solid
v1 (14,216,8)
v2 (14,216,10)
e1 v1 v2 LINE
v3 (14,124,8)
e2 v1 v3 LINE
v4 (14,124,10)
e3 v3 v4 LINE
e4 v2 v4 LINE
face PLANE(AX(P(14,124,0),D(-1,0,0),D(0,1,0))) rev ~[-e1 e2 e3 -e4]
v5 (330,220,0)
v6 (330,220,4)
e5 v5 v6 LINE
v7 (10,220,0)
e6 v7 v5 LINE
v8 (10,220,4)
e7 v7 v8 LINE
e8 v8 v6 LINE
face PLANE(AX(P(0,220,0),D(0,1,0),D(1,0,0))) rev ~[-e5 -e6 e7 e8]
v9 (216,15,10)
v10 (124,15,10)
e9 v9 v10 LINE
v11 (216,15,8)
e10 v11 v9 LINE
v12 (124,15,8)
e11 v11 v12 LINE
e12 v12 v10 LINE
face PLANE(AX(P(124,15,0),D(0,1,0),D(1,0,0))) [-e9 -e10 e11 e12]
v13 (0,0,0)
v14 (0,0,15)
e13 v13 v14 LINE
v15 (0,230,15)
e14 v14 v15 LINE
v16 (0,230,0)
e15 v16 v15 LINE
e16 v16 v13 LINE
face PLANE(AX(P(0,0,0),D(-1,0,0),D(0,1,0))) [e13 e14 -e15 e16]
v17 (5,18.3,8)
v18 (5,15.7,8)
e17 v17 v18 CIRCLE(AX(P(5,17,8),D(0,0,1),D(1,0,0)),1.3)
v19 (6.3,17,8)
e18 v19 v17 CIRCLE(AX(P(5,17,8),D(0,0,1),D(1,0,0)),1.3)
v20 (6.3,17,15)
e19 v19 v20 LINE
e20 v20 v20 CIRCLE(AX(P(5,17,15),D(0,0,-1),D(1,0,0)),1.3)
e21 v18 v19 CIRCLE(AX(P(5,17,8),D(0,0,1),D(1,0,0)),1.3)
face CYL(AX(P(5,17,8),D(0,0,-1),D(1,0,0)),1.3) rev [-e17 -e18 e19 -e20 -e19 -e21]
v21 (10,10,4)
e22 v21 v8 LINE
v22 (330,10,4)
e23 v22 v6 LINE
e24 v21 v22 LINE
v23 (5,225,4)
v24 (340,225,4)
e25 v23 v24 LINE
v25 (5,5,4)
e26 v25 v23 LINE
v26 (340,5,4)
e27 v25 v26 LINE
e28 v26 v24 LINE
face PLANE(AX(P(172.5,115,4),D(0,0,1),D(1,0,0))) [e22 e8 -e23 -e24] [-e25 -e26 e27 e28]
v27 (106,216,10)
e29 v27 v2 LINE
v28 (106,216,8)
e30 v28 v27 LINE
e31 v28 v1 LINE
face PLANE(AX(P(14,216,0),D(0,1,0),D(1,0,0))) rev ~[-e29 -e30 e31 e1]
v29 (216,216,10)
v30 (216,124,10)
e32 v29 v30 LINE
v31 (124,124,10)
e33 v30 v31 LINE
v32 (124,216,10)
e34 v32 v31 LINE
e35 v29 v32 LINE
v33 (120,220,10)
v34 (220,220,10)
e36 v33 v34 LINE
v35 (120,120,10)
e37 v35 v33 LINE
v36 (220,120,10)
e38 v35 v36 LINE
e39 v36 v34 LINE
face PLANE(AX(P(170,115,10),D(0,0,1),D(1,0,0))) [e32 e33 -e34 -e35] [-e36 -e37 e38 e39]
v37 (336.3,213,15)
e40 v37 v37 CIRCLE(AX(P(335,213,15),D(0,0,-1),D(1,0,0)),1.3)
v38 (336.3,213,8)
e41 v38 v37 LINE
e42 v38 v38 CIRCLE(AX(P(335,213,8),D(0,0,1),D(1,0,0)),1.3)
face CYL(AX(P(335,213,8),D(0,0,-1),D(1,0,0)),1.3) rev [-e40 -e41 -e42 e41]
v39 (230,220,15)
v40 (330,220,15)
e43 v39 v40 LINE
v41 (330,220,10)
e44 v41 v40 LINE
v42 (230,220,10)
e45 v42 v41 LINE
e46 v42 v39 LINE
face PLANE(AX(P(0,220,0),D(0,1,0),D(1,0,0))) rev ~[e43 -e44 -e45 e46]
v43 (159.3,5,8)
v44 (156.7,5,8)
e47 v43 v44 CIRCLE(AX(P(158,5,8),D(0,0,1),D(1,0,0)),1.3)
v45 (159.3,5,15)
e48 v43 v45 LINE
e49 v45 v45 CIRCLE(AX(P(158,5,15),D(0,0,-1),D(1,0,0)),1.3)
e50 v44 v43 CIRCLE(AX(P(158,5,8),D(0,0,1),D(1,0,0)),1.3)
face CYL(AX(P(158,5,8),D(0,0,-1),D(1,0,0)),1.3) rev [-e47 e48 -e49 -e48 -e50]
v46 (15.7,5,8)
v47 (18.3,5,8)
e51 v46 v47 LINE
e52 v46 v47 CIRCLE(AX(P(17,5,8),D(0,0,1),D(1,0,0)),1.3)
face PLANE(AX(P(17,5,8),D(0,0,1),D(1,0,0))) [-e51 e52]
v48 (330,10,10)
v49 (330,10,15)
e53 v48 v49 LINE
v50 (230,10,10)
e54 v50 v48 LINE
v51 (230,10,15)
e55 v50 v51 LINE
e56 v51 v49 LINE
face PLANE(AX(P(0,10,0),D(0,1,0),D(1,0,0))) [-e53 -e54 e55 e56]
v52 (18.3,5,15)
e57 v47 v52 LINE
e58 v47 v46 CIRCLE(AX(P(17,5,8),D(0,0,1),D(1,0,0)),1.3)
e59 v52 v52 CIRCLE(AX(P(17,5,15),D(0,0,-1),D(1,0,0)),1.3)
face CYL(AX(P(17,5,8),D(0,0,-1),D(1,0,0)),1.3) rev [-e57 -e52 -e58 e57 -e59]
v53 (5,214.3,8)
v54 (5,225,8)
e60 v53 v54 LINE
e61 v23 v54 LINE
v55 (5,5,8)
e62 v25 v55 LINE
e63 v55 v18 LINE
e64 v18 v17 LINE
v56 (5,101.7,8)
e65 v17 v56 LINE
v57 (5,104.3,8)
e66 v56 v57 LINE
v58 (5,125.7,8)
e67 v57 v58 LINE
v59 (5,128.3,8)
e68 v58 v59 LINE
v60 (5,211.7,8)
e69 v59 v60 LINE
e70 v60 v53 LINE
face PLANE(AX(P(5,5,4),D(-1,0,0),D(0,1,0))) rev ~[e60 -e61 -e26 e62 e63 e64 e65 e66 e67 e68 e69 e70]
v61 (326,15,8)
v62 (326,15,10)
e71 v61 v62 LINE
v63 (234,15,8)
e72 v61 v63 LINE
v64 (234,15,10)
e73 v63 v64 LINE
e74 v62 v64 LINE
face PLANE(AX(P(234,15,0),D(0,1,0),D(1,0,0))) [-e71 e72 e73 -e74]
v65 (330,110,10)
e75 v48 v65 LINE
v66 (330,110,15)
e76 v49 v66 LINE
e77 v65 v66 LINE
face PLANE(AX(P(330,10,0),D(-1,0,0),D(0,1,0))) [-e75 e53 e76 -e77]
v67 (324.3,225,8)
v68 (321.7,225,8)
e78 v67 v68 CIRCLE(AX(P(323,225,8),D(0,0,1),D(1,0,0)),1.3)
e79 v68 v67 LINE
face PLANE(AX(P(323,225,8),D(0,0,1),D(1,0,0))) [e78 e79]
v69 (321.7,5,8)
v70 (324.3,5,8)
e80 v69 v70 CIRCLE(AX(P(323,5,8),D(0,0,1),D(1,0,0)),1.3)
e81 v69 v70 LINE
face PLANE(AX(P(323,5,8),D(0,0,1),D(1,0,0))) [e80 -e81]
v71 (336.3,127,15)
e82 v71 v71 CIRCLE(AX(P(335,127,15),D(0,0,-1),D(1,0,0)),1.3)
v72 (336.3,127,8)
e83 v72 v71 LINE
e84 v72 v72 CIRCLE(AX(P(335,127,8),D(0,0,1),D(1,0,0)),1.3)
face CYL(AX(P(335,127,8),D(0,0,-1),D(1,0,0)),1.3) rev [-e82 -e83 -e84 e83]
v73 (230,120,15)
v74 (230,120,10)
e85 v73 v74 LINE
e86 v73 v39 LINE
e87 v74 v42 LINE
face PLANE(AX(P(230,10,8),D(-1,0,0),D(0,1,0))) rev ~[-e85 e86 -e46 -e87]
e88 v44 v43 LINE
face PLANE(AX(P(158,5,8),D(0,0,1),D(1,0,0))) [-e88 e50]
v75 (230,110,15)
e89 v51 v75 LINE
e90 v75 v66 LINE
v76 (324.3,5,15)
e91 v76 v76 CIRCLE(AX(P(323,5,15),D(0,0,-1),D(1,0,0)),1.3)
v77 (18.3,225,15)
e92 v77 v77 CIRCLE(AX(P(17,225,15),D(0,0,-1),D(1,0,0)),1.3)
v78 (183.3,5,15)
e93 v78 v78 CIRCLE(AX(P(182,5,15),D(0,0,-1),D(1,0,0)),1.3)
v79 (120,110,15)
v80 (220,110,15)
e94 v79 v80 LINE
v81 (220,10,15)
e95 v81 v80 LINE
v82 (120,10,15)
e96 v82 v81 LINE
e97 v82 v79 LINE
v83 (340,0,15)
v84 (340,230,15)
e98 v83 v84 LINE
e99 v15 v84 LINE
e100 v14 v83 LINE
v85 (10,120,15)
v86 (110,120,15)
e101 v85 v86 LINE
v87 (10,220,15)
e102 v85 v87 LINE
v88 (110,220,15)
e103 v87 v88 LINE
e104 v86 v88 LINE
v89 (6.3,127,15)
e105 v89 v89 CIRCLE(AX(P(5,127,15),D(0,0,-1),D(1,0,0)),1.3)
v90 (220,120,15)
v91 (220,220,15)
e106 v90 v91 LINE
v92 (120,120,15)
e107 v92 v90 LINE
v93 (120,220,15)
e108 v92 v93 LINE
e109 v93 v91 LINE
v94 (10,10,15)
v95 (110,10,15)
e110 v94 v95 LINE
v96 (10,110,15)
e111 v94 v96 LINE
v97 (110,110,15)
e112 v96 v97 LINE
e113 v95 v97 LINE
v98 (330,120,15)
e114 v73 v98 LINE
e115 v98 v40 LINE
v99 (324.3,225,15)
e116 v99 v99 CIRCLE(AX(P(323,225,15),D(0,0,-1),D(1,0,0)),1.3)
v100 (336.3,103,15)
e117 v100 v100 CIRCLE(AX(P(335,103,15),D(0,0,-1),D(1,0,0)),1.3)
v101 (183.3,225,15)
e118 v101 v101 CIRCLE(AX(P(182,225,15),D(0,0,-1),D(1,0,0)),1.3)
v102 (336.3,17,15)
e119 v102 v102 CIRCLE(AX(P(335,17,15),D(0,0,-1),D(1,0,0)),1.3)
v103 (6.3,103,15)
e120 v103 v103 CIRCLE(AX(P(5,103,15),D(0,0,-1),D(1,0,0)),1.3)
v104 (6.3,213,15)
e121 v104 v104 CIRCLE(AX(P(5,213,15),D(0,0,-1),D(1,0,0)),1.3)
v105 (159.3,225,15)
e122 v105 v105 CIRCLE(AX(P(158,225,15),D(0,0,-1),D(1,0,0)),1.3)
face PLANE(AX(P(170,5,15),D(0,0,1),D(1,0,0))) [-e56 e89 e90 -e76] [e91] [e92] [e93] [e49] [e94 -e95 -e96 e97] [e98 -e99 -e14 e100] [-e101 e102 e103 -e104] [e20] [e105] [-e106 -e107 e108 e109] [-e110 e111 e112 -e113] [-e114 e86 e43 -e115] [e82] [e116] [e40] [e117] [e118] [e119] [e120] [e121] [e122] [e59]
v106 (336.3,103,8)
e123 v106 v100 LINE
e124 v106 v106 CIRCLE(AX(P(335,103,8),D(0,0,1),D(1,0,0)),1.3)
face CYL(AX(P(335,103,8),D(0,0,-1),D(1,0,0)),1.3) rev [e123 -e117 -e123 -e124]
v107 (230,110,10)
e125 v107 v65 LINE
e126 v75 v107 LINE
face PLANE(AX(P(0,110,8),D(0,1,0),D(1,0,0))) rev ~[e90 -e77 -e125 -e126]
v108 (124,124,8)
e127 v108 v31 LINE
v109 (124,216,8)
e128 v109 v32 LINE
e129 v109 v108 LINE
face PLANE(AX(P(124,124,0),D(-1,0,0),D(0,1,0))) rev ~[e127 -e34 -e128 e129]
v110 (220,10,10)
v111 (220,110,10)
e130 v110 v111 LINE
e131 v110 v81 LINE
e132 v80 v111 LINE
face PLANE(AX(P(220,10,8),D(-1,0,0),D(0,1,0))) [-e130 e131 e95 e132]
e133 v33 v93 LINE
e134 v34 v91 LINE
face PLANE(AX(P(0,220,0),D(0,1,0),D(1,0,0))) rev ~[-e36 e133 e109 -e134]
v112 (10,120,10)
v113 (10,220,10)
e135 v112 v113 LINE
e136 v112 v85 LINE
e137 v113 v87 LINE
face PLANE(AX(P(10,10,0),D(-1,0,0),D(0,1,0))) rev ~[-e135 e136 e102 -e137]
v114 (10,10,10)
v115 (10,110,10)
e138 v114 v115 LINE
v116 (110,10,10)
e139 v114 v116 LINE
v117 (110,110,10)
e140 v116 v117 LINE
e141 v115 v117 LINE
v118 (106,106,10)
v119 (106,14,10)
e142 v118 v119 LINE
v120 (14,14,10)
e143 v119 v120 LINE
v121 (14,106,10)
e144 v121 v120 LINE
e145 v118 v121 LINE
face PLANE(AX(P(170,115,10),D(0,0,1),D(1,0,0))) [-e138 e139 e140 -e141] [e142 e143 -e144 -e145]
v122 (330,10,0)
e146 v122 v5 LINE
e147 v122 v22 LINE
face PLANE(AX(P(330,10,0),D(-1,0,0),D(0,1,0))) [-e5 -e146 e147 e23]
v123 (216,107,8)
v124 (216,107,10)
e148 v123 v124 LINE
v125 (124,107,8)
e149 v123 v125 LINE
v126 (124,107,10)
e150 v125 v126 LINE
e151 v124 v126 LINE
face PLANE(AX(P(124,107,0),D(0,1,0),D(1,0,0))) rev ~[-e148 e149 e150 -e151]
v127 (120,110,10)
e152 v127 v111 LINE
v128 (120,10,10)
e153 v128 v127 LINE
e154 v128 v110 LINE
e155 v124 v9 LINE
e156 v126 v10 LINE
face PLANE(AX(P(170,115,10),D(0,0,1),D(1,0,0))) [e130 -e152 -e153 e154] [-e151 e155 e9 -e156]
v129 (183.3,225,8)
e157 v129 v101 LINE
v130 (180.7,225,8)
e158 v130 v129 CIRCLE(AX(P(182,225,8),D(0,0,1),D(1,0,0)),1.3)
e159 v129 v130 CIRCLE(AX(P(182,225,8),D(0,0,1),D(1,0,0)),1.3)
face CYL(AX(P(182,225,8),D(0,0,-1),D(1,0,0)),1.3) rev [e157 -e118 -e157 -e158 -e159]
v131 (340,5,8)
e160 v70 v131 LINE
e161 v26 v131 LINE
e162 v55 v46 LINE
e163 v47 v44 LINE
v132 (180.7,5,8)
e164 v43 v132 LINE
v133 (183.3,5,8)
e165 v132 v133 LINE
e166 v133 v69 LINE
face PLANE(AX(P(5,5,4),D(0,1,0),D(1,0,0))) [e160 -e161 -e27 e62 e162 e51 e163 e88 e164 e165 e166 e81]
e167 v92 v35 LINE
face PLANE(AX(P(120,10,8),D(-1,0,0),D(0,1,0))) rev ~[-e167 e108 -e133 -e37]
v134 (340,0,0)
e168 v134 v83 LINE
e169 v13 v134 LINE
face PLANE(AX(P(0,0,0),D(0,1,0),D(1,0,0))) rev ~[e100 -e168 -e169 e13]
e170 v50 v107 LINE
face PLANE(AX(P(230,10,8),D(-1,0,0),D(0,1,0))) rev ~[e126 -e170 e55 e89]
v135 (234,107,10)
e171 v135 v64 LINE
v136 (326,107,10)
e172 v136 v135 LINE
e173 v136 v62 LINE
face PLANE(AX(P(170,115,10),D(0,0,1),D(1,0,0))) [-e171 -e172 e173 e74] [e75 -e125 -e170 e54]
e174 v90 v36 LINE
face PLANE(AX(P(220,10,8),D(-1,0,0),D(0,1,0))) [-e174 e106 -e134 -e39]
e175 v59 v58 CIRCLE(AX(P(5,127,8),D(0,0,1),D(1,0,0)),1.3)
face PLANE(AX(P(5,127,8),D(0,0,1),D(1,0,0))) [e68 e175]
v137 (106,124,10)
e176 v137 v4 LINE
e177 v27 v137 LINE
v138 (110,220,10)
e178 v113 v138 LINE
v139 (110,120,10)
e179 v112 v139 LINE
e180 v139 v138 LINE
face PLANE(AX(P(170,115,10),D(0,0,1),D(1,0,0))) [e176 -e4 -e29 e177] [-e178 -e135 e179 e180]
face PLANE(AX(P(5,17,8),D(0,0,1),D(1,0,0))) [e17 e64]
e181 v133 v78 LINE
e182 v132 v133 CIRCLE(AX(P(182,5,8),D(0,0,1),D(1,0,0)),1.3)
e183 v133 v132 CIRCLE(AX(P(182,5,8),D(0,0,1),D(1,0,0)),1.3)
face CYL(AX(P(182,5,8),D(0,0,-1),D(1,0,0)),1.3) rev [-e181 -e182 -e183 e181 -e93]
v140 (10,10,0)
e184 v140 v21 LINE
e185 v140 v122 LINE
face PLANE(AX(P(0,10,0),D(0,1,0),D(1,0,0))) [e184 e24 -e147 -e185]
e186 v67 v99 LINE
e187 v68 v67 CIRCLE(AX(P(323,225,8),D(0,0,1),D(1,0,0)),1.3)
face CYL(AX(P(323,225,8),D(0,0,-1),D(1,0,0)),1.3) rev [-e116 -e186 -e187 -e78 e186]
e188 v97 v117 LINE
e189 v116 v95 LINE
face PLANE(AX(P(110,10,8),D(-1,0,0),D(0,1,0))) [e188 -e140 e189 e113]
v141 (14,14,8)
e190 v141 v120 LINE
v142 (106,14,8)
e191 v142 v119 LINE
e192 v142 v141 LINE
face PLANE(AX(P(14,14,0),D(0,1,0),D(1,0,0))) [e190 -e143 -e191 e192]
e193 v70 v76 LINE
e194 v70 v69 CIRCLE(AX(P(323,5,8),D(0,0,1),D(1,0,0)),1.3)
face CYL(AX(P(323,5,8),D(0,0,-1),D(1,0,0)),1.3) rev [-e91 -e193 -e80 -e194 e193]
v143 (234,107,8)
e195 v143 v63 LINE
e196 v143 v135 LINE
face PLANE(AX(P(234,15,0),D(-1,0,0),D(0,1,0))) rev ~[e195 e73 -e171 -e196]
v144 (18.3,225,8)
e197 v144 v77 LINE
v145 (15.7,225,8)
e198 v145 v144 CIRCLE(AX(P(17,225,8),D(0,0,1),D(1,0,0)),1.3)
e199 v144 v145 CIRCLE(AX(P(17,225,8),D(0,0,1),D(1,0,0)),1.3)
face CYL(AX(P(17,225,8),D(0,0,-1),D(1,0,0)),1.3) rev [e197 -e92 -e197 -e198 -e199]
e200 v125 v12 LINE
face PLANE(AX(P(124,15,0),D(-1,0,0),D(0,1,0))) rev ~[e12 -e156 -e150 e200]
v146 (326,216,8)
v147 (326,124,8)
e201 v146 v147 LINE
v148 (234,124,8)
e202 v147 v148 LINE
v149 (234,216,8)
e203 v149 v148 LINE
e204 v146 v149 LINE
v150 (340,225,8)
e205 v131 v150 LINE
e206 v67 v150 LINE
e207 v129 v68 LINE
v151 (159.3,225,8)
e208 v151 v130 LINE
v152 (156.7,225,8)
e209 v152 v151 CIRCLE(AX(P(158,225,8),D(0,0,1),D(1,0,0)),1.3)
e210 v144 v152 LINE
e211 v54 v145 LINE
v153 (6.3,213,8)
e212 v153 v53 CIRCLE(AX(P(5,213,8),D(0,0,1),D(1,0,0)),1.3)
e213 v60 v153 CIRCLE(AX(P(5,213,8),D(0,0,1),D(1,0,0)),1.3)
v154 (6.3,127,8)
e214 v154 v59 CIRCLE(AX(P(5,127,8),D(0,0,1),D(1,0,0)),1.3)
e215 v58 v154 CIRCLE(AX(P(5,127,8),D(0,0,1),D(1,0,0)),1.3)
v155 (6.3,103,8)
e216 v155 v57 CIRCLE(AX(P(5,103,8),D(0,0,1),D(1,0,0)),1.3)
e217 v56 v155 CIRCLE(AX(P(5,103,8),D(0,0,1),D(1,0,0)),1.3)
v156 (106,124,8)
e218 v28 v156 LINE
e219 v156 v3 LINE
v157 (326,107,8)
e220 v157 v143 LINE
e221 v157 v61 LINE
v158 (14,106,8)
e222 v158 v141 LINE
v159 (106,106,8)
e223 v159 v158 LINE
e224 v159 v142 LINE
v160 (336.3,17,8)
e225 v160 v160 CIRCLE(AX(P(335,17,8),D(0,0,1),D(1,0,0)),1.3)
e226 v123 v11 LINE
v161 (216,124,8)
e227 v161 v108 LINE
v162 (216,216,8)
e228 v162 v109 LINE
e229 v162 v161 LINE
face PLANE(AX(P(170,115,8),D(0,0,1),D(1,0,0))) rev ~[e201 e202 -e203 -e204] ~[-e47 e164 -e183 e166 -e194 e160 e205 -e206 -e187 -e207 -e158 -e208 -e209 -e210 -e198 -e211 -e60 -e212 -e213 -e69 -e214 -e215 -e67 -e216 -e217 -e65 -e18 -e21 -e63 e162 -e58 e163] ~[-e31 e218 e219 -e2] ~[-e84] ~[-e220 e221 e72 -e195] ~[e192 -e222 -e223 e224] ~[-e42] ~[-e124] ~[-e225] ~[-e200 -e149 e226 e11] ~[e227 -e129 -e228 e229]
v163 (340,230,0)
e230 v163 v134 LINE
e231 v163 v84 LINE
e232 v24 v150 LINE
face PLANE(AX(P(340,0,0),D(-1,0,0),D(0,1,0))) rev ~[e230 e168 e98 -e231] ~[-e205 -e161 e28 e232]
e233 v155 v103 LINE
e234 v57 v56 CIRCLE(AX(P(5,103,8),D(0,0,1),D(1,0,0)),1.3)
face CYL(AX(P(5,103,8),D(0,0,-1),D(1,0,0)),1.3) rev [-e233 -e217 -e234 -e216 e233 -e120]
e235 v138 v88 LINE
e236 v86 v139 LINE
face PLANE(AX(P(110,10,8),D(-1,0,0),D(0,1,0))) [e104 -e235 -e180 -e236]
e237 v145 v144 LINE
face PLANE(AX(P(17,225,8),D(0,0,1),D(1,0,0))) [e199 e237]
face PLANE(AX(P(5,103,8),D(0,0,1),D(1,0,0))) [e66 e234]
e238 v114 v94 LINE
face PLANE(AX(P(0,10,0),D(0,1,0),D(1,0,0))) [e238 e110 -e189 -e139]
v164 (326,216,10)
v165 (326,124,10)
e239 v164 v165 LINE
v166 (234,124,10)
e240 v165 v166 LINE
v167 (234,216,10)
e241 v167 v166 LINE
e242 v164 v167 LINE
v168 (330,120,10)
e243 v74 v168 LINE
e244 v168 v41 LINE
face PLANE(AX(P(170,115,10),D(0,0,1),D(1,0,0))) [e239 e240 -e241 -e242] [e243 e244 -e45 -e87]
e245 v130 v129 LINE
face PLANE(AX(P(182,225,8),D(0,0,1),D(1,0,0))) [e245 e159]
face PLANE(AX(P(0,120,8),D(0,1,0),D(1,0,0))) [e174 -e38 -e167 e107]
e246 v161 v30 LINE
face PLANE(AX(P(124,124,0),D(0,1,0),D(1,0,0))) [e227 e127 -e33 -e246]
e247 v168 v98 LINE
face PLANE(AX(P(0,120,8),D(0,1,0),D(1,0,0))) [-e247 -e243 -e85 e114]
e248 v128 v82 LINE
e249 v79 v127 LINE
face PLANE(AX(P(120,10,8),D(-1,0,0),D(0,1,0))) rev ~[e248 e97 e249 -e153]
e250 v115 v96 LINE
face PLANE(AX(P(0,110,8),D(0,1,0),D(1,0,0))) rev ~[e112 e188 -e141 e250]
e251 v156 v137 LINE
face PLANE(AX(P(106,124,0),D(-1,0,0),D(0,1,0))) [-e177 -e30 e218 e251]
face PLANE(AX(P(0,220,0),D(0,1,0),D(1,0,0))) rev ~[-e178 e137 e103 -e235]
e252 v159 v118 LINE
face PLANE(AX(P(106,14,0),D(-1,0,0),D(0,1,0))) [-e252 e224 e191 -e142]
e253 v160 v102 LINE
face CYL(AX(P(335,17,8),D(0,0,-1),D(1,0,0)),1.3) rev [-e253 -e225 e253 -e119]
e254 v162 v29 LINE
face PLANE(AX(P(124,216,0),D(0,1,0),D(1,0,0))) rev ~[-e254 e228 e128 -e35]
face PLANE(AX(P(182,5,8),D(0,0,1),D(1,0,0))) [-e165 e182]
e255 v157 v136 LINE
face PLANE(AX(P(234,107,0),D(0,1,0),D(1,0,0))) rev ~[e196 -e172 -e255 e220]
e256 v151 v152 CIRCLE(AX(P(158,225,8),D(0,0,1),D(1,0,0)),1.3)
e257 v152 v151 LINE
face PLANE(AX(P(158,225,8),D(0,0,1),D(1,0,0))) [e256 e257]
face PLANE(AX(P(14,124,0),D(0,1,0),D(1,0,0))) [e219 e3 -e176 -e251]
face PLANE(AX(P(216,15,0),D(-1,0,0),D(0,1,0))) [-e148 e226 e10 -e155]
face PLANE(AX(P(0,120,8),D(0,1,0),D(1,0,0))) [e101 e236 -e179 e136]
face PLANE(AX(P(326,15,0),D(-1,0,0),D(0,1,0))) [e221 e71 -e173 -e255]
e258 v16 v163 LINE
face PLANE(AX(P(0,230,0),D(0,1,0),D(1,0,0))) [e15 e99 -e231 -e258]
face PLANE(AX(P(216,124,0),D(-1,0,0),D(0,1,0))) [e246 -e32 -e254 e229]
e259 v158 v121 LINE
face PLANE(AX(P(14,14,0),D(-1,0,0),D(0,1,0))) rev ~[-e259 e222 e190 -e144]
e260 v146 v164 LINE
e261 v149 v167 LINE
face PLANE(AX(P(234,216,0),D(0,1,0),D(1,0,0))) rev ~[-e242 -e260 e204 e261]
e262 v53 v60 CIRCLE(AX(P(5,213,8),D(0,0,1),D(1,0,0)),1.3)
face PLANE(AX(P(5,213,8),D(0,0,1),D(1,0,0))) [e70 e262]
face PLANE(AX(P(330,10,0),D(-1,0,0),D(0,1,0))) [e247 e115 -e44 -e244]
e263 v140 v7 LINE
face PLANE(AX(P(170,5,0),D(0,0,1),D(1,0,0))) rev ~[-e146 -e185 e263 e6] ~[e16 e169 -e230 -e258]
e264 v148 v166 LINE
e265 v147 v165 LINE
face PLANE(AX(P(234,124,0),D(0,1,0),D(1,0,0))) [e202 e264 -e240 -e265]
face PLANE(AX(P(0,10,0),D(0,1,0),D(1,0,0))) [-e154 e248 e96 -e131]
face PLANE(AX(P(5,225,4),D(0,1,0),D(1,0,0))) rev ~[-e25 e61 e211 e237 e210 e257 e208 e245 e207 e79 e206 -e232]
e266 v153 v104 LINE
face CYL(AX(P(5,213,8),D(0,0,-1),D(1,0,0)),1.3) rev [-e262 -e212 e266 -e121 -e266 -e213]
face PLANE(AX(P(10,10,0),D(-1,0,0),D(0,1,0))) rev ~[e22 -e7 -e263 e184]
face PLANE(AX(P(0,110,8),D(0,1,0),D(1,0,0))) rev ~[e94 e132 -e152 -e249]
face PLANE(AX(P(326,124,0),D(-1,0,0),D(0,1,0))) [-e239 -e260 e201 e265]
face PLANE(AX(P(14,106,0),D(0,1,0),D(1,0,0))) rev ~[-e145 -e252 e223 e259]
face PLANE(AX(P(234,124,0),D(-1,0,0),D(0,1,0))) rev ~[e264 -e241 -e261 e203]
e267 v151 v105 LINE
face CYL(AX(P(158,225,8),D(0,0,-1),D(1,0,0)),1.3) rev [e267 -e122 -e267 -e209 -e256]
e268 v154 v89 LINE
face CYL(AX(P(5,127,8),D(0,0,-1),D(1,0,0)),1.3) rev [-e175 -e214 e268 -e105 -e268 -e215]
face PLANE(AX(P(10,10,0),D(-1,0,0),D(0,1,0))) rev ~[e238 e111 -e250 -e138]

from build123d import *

# Parameters (mm, degrees)
CYLINDER050_R     = 1.3
CYLINDER050_DEPTH = 146
CYLINDER049_R     = 1.3
CYLINDER049_DEPTH = 146
CYLINDER042_R     = 1.3
CYLINDER042_DEPTH = 146
CYLINDER041_R     = 1.3
CYLINDER041_DEPTH = 146
CYLINDER038_R     = 1.3
CYLINDER038_DEPTH = 146
CYLINDER037_R     = 1.3
CYLINDER037_DEPTH = 146
CYLINDER035_R     = 1.3
CYLINDER035_DEPTH = 146
CYLINDER033_R     = 1.3
CYLINDER033_DEPTH = 146
CYLINDER031_R     = 1.3
CYLINDER031_DEPTH = 146
CYLINDER029_R     = 1.3
CYLINDER029_DEPTH = 146
CYLINDER016_R     = 1.3
CYLINDER016_DEPTH = 146
CYLINDER015_R     = 1.3
CYLINDER015_DEPTH = 146
CYLINDER006_R     = 1.3
CYLINDER006_DEPTH = 146
CYLINDER007_R     = 1.3
CYLINDER007_DEPTH = 146
CYLINDER003_R     = 1.3
CYLINDER003_DEPTH = 146
CYLINDER005_R     = 1.3
CYLINDER005_DEPTH = 146
BOX021_W          = 92
BOX021_H          = 92
BOX021_DEPTH      = 24
BOX020_W          = 92
BOX020_H          = 92
BOX020_DEPTH      = 24
BOX019_W          = 92
BOX019_H          = 92
BOX019_DEPTH      = 24
BOX018_W          = 92
BOX018_H          = 92
BOX018_DEPTH      = 24
BOX017_W          = 92
BOX017_H          = 92
BOX017_DEPTH      = 24
BOX013_W          = 92
BOX013_H          = 92
BOX013_DEPTH      = 24
BOX004_W          = 320
BOX004_H          = 210
BOX004_DEPTH      = 2
BOX015_W          = 335
BOX015_H          = 220
BOX015_DEPTH      = 4
BOX012_W          = 10
BOX012_H          = 210
BOX012_DEPTH      = 7
BOX006_W          = 340
BOX006_H          = 10
BOX006_DEPTH      = 7
BOX003_W          = 10
BOX003_H          = 210
BOX003_DEPTH      = 15
BOX002_W          = 10
BOX002_H          = 210
BOX002_DEPTH      = 15
BOX001_W          = 340
BOX001_H          = 10
BOX001_DEPTH      = 15
BOX_W             = 340
BOX_H             = 10
BOX_DEPTH         = 15
BOX011_W          = 10
BOX011_H          = 210
BOX011_DEPTH      = 7


with BuildPart() as cilindro050:
    # Cylinder050 → Cylinder050 (new body)
    with BuildSketch(Plane(origin=(5, 103, 8), x_dir=(1, 0, 0), z_dir=(0, 0, 1))):
        Circle(CYLINDER050_R)
    extrude(amount=CYLINDER050_DEPTH)


with BuildPart() as cilindro049:
    # Cylinder049 → Cylinder049 (new body)
    with BuildSketch(Plane(origin=(5, 127, 8), x_dir=(1, 0, 0), z_dir=(0, 0, 1))):
        Circle(CYLINDER049_R)
    extrude(amount=CYLINDER049_DEPTH)


with BuildPart() as cilindro042:
    # Cylinder042 → Cylinder042 (new body)
    with BuildSketch(Plane(origin=(5, 213, 8), x_dir=(1, 0, 0), z_dir=(0, 0, 1))):
        Circle(CYLINDER042_R)
    extrude(amount=CYLINDER042_DEPTH)


with BuildPart() as cilindro041:
    # Cylinder041 → Cylinder041 (new body)
    with BuildSketch(Plane(origin=(17, 225, 8), x_dir=(1, 0, 0), z_dir=(0, 0, 1))):
        Circle(CYLINDER041_R)
    extrude(amount=CYLINDER041_DEPTH)


with BuildPart() as cilindro038:
    # Cylinder038 → Cylinder038 (new body)
    with BuildSketch(Plane(origin=(158, 225, 8), x_dir=(1, 0, 0), z_dir=(0, 0, 1))):
        Circle(CYLINDER038_R)
    extrude(amount=CYLINDER038_DEPTH)


with BuildPart() as cilindro037:
    # Cylinder037 → Cylinder037 (new body)
    with BuildSketch(Plane(origin=(182, 225, 8), x_dir=(1, 0, 0), z_dir=(0, 0, 1))):
        Circle(CYLINDER037_R)
    extrude(amount=CYLINDER037_DEPTH)


with BuildPart() as cilindro035:
    # Cylinder035 → Cylinder035 (new body)
    with BuildSketch(Plane(origin=(323, 225, 8), x_dir=(1, 0, 0), z_dir=(0, 0, 1))):
        Circle(CYLINDER035_R)
    extrude(amount=CYLINDER035_DEPTH)


with BuildPart() as cilindro033:
    # Cylinder033 → Cylinder033 (new body)
    with BuildSketch(Plane(origin=(335, 213, 8), x_dir=(1, 0, 0), z_dir=(0, 0, 1))):
        Circle(CYLINDER033_R)
    extrude(amount=CYLINDER033_DEPTH)


with BuildPart() as cilindro031:
    # Cylinder031 → Cylinder031 (new body)
    with BuildSketch(Plane(origin=(335, 127, 8), x_dir=(1, 0, 0), z_dir=(0, 0, 1))):
        Circle(CYLINDER031_R)
    extrude(amount=CYLINDER031_DEPTH)


with BuildPart() as cilindro029:
    # Cylinder029 → Cylinder029 (new body)
    with BuildSketch(Plane(origin=(335, 103, 8), x_dir=(1, 0, 0), z_dir=(0, 0, 1))):
        Circle(CYLINDER029_R)
    extrude(amount=CYLINDER029_DEPTH)


with BuildPart() as cilindro016:
    # Cylinder016 → Cylinder016 (new body)
    with BuildSketch(Plane(origin=(335, 17, 8), x_dir=(1, 0, 0), z_dir=(0, 0, 1))):
        Circle(CYLINDER016_R)
    extrude(amount=CYLINDER016_DEPTH)


with BuildPart() as cilindro015:
    # Cylinder015 → Cylinder015 (new body)
    with BuildSketch(Plane(origin=(323, 5, 8), x_dir=(1, 0, 0), z_dir=(0, 0, 1))):
        Circle(CYLINDER015_R)
    extrude(amount=CYLINDER015_DEPTH)


with BuildPart() as cilindro006:
    # Cylinder006 → Cylinder006 (new body)
    with BuildSketch(Plane(origin=(182, 5, 8), x_dir=(1, 0, 0), z_dir=(0, 0, 1))):
        Circle(CYLINDER006_R)
    extrude(amount=CYLINDER006_DEPTH)


with BuildPart() as cilindro007:
    # Cylinder007 → Cylinder007 (new body)
    with BuildSketch(Plane(origin=(158, 5, 8), x_dir=(1, 0, 0), z_dir=(0, 0, 1))):
        Circle(CYLINDER007_R)
    extrude(amount=CYLINDER007_DEPTH)


with BuildPart() as cilindro003:
    # Cylinder003 → Cylinder003 (new body)
    with BuildSketch(Plane(origin=(17, 5, 8), x_dir=(1, 0, 0), z_dir=(0, 0, 1))):
        Circle(CYLINDER003_R)
    extrude(amount=CYLINDER003_DEPTH)


with BuildPart() as cilindro005:
    # Cylinder005 → Cylinder005 (new body)
    with BuildSketch(Plane(origin=(5, 17, 8), x_dir=(1, 0, 0), z_dir=(0, 0, 1))):
        Circle(CYLINDER005_R)
    extrude(amount=CYLINDER005_DEPTH)


with BuildPart() as cajita015:
    # Box021 → Box021 (new body)
    with BuildSketch(Plane(origin=(14, 124, 0), x_dir=(1, 0, 0), z_dir=(0, 0, 1))):
        with Locations((46, 46)):
            Rectangle(BOX021_W, BOX021_H)
    extrude(amount=BOX021_DEPTH)


with BuildPart() as cajita014:
    # Box020 → Box020 (new body)
    with BuildSketch(Plane(origin=(124, 124, 0), x_dir=(1, 0, 0), z_dir=(0, 0, 1))):
        with Locations((46, 46)):
            Rectangle(BOX020_W, BOX020_H)
    extrude(amount=BOX020_DEPTH)


with BuildPart() as cajita013:
    # Box019 → Box019 (new body)
    with BuildSketch(Plane(origin=(234, 124, 0), x_dir=(1, 0, 0), z_dir=(0, 0, 1))):
        with Locations((46, 46)):
            Rectangle(BOX019_W, BOX019_H)
    extrude(amount=BOX019_DEPTH)


with BuildPart() as cajita012:
    # Box018 → Box018 (new body)
    with BuildSketch(Plane(origin=(234, 15, 0), x_dir=(1, 0, 0), z_dir=(0, 0, 1))):
        with Locations((46, 46)):
            Rectangle(BOX018_W, BOX018_H)
    extrude(amount=BOX018_DEPTH)


with BuildPart() as cajita011:
    # Box017 → Box017 (new body)
    with BuildSketch(Plane(origin=(124, 15, 0), x_dir=(1, 0, 0), z_dir=(0, 0, 1))):
        with Locations((46, 46)):
            Rectangle(BOX017_W, BOX017_H)
    extrude(amount=BOX017_DEPTH)


with BuildPart() as cajita007:
    # Box013 → Box013 (new body)
    with BuildSketch(Plane(origin=(14, 14, 0), x_dir=(1, 0, 0), z_dir=(0, 0, 1))):
        with Locations((46, 46)):
            Rectangle(BOX013_W, BOX013_H)
    extrude(amount=BOX013_DEPTH)


with BuildPart() as cajita1:
    # Box004 → Box004 (new body)
    with BuildSketch(Plane(origin=(10, 10, 8), x_dir=(1, 0, 0), z_dir=(0, 0, 1))):
        with Locations((160, 105)):
            Rectangle(BOX004_W, BOX004_H)
    extrude(amount=BOX004_DEPTH)


with BuildPart() as cajita009:
    # Box015 → Box015 (new body)
    with BuildSketch(Plane(origin=(5, 5, 4), x_dir=(1, 0, 0), z_dir=(0, 0, 1))):
        with Locations((167.5, 110)):
            Rectangle(BOX015_W, BOX015_H)
    extrude(amount=BOX015_DEPTH)


with BuildPart() as ancho003:
    # Box012 → Box012 (new body)
    with BuildSketch(Plane(origin=(220, 10, 8), x_dir=(1, 0, 0), z_dir=(0, 0, 1))):
        with Locations((5, 105)):
            Rectangle(BOX012_W, BOX012_H)
    extrude(amount=BOX012_DEPTH)


with BuildPart() as base003:
    # Box006 → Box006 (new body)
    with BuildSketch(Plane(origin=(0, 110, 8), x_dir=(1, 0, 0), z_dir=(0, 0, 1))):
        with Locations((170, 5)):
            Rectangle(BOX006_W, BOX006_H)
    extrude(amount=BOX006_DEPTH)


with BuildPart() as ancho001:
    # Box003 → Box003 (new body)
    with BuildSketch(Plane(origin=(330, 10, 0), x_dir=(1, 0, 0), z_dir=(0, 0, 1))):
        with Locations((5, 105)):
            Rectangle(BOX003_W, BOX003_H)
    extrude(amount=BOX003_DEPTH)


with BuildPart() as ancho:
    # Box002 → Box002 (new body)
    with BuildSketch(Plane(origin=(0, 10, 0), x_dir=(1, 0, 0), z_dir=(0, 0, 1))):
        with Locations((5, 105)):
            Rectangle(BOX002_W, BOX002_H)
    extrude(amount=BOX002_DEPTH)


with BuildPart() as base2:
    # Box001 → Box001 (new body)
    with BuildSketch(Plane(origin=(0, 220, 0), x_dir=(1, 0, 0), z_dir=(0, 0, 1))):
        with Locations((170, 5)):
            Rectangle(BOX001_W, BOX001_H)
    extrude(amount=BOX001_DEPTH)


with BuildPart() as base1:
    # Box → Box (new body)
    with BuildSketch(Plane.XY):
        with Locations((170, 5)):
            Rectangle(BOX_W, BOX_H)
    extrude(amount=BOX_DEPTH)


with BuildPart() as cut065:
    # Box011 → Box011 (new body)
    with BuildSketch(Plane(origin=(110, 10, 8), x_dir=(1, 0, 0), z_dir=(0, 0, 1))):
        with Locations((5, 105)):
            Rectangle(BOX011_W, BOX011_H)
    extrude(amount=BOX011_DEPTH)

    # Fusion: union ancho003, base003, ancho001, ancho, base2, base1
    add(ancho003.part)
    add(base003.part)
    add(ancho001.part)
    add(ancho.part)
    add(base2.part)
    add(base1.part)

    # Cut: cut cajita009
    add(cajita009.part, mode=Mode.SUBTRACT)

    # Fusion001: union cajita1
    add(cajita1.part)

    # Cut001: cut cajita007
    add(cajita007.part, mode=Mode.SUBTRACT)

    # Cut002: cut cajita011
    add(cajita011.part, mode=Mode.SUBTRACT)

    # Cut003: cut cajita012
    add(cajita012.part, mode=Mode.SUBTRACT)

    # Cut004: cut cajita013
    add(cajita013.part, mode=Mode.SUBTRACT)

    # Cut005: cut cajita014
    add(cajita014.part, mode=Mode.SUBTRACT)

    # Cut006: cut cajita015
    add(cajita015.part, mode=Mode.SUBTRACT)

    # Cut019: cut Cilindro005
    add(cilindro005.part, mode=Mode.SUBTRACT)

    # Cut020: cut Cilindro003
    add(cilindro003.part, mode=Mode.SUBTRACT)

    # Cut021: cut Cilindro007
    add(cilindro007.part, mode=Mode.SUBTRACT)

    # Cut024: cut Cilindro006
    add(cilindro006.part, mode=Mode.SUBTRACT)

    # Cut030: cut Cilindro015
    add(cilindro015.part, mode=Mode.SUBTRACT)

    # Cut031: cut Cilindro016
    add(cilindro016.part, mode=Mode.SUBTRACT)

    # Cut044: cut Cilindro029
    add(cilindro029.part, mode=Mode.SUBTRACT)

    # Cut046: cut Cilindro031
    add(cilindro031.part, mode=Mode.SUBTRACT)

    # Cut048: cut Cilindro033
    add(cilindro033.part, mode=Mode.SUBTRACT)

    # Cut050: cut Cilindro035
    add(cilindro035.part, mode=Mode.SUBTRACT)

    # Cut052: cut Cilindro037
    add(cilindro037.part, mode=Mode.SUBTRACT)

    # Cut053: cut Cilindro038
    add(cilindro038.part, mode=Mode.SUBTRACT)

    # Cut056: cut Cilindro041
    add(cilindro041.part, mode=Mode.SUBTRACT)

    # Cut057: cut Cilindro042
    add(cilindro042.part, mode=Mode.SUBTRACT)

    # Cut064: cut Cilindro049
    add(cilindro049.part, mode=Mode.SUBTRACT)

    # Cut065: cut Cilindro050
    add(cilindro050.part, mode=Mode.SUBTRACT)


solid = cut065.part
